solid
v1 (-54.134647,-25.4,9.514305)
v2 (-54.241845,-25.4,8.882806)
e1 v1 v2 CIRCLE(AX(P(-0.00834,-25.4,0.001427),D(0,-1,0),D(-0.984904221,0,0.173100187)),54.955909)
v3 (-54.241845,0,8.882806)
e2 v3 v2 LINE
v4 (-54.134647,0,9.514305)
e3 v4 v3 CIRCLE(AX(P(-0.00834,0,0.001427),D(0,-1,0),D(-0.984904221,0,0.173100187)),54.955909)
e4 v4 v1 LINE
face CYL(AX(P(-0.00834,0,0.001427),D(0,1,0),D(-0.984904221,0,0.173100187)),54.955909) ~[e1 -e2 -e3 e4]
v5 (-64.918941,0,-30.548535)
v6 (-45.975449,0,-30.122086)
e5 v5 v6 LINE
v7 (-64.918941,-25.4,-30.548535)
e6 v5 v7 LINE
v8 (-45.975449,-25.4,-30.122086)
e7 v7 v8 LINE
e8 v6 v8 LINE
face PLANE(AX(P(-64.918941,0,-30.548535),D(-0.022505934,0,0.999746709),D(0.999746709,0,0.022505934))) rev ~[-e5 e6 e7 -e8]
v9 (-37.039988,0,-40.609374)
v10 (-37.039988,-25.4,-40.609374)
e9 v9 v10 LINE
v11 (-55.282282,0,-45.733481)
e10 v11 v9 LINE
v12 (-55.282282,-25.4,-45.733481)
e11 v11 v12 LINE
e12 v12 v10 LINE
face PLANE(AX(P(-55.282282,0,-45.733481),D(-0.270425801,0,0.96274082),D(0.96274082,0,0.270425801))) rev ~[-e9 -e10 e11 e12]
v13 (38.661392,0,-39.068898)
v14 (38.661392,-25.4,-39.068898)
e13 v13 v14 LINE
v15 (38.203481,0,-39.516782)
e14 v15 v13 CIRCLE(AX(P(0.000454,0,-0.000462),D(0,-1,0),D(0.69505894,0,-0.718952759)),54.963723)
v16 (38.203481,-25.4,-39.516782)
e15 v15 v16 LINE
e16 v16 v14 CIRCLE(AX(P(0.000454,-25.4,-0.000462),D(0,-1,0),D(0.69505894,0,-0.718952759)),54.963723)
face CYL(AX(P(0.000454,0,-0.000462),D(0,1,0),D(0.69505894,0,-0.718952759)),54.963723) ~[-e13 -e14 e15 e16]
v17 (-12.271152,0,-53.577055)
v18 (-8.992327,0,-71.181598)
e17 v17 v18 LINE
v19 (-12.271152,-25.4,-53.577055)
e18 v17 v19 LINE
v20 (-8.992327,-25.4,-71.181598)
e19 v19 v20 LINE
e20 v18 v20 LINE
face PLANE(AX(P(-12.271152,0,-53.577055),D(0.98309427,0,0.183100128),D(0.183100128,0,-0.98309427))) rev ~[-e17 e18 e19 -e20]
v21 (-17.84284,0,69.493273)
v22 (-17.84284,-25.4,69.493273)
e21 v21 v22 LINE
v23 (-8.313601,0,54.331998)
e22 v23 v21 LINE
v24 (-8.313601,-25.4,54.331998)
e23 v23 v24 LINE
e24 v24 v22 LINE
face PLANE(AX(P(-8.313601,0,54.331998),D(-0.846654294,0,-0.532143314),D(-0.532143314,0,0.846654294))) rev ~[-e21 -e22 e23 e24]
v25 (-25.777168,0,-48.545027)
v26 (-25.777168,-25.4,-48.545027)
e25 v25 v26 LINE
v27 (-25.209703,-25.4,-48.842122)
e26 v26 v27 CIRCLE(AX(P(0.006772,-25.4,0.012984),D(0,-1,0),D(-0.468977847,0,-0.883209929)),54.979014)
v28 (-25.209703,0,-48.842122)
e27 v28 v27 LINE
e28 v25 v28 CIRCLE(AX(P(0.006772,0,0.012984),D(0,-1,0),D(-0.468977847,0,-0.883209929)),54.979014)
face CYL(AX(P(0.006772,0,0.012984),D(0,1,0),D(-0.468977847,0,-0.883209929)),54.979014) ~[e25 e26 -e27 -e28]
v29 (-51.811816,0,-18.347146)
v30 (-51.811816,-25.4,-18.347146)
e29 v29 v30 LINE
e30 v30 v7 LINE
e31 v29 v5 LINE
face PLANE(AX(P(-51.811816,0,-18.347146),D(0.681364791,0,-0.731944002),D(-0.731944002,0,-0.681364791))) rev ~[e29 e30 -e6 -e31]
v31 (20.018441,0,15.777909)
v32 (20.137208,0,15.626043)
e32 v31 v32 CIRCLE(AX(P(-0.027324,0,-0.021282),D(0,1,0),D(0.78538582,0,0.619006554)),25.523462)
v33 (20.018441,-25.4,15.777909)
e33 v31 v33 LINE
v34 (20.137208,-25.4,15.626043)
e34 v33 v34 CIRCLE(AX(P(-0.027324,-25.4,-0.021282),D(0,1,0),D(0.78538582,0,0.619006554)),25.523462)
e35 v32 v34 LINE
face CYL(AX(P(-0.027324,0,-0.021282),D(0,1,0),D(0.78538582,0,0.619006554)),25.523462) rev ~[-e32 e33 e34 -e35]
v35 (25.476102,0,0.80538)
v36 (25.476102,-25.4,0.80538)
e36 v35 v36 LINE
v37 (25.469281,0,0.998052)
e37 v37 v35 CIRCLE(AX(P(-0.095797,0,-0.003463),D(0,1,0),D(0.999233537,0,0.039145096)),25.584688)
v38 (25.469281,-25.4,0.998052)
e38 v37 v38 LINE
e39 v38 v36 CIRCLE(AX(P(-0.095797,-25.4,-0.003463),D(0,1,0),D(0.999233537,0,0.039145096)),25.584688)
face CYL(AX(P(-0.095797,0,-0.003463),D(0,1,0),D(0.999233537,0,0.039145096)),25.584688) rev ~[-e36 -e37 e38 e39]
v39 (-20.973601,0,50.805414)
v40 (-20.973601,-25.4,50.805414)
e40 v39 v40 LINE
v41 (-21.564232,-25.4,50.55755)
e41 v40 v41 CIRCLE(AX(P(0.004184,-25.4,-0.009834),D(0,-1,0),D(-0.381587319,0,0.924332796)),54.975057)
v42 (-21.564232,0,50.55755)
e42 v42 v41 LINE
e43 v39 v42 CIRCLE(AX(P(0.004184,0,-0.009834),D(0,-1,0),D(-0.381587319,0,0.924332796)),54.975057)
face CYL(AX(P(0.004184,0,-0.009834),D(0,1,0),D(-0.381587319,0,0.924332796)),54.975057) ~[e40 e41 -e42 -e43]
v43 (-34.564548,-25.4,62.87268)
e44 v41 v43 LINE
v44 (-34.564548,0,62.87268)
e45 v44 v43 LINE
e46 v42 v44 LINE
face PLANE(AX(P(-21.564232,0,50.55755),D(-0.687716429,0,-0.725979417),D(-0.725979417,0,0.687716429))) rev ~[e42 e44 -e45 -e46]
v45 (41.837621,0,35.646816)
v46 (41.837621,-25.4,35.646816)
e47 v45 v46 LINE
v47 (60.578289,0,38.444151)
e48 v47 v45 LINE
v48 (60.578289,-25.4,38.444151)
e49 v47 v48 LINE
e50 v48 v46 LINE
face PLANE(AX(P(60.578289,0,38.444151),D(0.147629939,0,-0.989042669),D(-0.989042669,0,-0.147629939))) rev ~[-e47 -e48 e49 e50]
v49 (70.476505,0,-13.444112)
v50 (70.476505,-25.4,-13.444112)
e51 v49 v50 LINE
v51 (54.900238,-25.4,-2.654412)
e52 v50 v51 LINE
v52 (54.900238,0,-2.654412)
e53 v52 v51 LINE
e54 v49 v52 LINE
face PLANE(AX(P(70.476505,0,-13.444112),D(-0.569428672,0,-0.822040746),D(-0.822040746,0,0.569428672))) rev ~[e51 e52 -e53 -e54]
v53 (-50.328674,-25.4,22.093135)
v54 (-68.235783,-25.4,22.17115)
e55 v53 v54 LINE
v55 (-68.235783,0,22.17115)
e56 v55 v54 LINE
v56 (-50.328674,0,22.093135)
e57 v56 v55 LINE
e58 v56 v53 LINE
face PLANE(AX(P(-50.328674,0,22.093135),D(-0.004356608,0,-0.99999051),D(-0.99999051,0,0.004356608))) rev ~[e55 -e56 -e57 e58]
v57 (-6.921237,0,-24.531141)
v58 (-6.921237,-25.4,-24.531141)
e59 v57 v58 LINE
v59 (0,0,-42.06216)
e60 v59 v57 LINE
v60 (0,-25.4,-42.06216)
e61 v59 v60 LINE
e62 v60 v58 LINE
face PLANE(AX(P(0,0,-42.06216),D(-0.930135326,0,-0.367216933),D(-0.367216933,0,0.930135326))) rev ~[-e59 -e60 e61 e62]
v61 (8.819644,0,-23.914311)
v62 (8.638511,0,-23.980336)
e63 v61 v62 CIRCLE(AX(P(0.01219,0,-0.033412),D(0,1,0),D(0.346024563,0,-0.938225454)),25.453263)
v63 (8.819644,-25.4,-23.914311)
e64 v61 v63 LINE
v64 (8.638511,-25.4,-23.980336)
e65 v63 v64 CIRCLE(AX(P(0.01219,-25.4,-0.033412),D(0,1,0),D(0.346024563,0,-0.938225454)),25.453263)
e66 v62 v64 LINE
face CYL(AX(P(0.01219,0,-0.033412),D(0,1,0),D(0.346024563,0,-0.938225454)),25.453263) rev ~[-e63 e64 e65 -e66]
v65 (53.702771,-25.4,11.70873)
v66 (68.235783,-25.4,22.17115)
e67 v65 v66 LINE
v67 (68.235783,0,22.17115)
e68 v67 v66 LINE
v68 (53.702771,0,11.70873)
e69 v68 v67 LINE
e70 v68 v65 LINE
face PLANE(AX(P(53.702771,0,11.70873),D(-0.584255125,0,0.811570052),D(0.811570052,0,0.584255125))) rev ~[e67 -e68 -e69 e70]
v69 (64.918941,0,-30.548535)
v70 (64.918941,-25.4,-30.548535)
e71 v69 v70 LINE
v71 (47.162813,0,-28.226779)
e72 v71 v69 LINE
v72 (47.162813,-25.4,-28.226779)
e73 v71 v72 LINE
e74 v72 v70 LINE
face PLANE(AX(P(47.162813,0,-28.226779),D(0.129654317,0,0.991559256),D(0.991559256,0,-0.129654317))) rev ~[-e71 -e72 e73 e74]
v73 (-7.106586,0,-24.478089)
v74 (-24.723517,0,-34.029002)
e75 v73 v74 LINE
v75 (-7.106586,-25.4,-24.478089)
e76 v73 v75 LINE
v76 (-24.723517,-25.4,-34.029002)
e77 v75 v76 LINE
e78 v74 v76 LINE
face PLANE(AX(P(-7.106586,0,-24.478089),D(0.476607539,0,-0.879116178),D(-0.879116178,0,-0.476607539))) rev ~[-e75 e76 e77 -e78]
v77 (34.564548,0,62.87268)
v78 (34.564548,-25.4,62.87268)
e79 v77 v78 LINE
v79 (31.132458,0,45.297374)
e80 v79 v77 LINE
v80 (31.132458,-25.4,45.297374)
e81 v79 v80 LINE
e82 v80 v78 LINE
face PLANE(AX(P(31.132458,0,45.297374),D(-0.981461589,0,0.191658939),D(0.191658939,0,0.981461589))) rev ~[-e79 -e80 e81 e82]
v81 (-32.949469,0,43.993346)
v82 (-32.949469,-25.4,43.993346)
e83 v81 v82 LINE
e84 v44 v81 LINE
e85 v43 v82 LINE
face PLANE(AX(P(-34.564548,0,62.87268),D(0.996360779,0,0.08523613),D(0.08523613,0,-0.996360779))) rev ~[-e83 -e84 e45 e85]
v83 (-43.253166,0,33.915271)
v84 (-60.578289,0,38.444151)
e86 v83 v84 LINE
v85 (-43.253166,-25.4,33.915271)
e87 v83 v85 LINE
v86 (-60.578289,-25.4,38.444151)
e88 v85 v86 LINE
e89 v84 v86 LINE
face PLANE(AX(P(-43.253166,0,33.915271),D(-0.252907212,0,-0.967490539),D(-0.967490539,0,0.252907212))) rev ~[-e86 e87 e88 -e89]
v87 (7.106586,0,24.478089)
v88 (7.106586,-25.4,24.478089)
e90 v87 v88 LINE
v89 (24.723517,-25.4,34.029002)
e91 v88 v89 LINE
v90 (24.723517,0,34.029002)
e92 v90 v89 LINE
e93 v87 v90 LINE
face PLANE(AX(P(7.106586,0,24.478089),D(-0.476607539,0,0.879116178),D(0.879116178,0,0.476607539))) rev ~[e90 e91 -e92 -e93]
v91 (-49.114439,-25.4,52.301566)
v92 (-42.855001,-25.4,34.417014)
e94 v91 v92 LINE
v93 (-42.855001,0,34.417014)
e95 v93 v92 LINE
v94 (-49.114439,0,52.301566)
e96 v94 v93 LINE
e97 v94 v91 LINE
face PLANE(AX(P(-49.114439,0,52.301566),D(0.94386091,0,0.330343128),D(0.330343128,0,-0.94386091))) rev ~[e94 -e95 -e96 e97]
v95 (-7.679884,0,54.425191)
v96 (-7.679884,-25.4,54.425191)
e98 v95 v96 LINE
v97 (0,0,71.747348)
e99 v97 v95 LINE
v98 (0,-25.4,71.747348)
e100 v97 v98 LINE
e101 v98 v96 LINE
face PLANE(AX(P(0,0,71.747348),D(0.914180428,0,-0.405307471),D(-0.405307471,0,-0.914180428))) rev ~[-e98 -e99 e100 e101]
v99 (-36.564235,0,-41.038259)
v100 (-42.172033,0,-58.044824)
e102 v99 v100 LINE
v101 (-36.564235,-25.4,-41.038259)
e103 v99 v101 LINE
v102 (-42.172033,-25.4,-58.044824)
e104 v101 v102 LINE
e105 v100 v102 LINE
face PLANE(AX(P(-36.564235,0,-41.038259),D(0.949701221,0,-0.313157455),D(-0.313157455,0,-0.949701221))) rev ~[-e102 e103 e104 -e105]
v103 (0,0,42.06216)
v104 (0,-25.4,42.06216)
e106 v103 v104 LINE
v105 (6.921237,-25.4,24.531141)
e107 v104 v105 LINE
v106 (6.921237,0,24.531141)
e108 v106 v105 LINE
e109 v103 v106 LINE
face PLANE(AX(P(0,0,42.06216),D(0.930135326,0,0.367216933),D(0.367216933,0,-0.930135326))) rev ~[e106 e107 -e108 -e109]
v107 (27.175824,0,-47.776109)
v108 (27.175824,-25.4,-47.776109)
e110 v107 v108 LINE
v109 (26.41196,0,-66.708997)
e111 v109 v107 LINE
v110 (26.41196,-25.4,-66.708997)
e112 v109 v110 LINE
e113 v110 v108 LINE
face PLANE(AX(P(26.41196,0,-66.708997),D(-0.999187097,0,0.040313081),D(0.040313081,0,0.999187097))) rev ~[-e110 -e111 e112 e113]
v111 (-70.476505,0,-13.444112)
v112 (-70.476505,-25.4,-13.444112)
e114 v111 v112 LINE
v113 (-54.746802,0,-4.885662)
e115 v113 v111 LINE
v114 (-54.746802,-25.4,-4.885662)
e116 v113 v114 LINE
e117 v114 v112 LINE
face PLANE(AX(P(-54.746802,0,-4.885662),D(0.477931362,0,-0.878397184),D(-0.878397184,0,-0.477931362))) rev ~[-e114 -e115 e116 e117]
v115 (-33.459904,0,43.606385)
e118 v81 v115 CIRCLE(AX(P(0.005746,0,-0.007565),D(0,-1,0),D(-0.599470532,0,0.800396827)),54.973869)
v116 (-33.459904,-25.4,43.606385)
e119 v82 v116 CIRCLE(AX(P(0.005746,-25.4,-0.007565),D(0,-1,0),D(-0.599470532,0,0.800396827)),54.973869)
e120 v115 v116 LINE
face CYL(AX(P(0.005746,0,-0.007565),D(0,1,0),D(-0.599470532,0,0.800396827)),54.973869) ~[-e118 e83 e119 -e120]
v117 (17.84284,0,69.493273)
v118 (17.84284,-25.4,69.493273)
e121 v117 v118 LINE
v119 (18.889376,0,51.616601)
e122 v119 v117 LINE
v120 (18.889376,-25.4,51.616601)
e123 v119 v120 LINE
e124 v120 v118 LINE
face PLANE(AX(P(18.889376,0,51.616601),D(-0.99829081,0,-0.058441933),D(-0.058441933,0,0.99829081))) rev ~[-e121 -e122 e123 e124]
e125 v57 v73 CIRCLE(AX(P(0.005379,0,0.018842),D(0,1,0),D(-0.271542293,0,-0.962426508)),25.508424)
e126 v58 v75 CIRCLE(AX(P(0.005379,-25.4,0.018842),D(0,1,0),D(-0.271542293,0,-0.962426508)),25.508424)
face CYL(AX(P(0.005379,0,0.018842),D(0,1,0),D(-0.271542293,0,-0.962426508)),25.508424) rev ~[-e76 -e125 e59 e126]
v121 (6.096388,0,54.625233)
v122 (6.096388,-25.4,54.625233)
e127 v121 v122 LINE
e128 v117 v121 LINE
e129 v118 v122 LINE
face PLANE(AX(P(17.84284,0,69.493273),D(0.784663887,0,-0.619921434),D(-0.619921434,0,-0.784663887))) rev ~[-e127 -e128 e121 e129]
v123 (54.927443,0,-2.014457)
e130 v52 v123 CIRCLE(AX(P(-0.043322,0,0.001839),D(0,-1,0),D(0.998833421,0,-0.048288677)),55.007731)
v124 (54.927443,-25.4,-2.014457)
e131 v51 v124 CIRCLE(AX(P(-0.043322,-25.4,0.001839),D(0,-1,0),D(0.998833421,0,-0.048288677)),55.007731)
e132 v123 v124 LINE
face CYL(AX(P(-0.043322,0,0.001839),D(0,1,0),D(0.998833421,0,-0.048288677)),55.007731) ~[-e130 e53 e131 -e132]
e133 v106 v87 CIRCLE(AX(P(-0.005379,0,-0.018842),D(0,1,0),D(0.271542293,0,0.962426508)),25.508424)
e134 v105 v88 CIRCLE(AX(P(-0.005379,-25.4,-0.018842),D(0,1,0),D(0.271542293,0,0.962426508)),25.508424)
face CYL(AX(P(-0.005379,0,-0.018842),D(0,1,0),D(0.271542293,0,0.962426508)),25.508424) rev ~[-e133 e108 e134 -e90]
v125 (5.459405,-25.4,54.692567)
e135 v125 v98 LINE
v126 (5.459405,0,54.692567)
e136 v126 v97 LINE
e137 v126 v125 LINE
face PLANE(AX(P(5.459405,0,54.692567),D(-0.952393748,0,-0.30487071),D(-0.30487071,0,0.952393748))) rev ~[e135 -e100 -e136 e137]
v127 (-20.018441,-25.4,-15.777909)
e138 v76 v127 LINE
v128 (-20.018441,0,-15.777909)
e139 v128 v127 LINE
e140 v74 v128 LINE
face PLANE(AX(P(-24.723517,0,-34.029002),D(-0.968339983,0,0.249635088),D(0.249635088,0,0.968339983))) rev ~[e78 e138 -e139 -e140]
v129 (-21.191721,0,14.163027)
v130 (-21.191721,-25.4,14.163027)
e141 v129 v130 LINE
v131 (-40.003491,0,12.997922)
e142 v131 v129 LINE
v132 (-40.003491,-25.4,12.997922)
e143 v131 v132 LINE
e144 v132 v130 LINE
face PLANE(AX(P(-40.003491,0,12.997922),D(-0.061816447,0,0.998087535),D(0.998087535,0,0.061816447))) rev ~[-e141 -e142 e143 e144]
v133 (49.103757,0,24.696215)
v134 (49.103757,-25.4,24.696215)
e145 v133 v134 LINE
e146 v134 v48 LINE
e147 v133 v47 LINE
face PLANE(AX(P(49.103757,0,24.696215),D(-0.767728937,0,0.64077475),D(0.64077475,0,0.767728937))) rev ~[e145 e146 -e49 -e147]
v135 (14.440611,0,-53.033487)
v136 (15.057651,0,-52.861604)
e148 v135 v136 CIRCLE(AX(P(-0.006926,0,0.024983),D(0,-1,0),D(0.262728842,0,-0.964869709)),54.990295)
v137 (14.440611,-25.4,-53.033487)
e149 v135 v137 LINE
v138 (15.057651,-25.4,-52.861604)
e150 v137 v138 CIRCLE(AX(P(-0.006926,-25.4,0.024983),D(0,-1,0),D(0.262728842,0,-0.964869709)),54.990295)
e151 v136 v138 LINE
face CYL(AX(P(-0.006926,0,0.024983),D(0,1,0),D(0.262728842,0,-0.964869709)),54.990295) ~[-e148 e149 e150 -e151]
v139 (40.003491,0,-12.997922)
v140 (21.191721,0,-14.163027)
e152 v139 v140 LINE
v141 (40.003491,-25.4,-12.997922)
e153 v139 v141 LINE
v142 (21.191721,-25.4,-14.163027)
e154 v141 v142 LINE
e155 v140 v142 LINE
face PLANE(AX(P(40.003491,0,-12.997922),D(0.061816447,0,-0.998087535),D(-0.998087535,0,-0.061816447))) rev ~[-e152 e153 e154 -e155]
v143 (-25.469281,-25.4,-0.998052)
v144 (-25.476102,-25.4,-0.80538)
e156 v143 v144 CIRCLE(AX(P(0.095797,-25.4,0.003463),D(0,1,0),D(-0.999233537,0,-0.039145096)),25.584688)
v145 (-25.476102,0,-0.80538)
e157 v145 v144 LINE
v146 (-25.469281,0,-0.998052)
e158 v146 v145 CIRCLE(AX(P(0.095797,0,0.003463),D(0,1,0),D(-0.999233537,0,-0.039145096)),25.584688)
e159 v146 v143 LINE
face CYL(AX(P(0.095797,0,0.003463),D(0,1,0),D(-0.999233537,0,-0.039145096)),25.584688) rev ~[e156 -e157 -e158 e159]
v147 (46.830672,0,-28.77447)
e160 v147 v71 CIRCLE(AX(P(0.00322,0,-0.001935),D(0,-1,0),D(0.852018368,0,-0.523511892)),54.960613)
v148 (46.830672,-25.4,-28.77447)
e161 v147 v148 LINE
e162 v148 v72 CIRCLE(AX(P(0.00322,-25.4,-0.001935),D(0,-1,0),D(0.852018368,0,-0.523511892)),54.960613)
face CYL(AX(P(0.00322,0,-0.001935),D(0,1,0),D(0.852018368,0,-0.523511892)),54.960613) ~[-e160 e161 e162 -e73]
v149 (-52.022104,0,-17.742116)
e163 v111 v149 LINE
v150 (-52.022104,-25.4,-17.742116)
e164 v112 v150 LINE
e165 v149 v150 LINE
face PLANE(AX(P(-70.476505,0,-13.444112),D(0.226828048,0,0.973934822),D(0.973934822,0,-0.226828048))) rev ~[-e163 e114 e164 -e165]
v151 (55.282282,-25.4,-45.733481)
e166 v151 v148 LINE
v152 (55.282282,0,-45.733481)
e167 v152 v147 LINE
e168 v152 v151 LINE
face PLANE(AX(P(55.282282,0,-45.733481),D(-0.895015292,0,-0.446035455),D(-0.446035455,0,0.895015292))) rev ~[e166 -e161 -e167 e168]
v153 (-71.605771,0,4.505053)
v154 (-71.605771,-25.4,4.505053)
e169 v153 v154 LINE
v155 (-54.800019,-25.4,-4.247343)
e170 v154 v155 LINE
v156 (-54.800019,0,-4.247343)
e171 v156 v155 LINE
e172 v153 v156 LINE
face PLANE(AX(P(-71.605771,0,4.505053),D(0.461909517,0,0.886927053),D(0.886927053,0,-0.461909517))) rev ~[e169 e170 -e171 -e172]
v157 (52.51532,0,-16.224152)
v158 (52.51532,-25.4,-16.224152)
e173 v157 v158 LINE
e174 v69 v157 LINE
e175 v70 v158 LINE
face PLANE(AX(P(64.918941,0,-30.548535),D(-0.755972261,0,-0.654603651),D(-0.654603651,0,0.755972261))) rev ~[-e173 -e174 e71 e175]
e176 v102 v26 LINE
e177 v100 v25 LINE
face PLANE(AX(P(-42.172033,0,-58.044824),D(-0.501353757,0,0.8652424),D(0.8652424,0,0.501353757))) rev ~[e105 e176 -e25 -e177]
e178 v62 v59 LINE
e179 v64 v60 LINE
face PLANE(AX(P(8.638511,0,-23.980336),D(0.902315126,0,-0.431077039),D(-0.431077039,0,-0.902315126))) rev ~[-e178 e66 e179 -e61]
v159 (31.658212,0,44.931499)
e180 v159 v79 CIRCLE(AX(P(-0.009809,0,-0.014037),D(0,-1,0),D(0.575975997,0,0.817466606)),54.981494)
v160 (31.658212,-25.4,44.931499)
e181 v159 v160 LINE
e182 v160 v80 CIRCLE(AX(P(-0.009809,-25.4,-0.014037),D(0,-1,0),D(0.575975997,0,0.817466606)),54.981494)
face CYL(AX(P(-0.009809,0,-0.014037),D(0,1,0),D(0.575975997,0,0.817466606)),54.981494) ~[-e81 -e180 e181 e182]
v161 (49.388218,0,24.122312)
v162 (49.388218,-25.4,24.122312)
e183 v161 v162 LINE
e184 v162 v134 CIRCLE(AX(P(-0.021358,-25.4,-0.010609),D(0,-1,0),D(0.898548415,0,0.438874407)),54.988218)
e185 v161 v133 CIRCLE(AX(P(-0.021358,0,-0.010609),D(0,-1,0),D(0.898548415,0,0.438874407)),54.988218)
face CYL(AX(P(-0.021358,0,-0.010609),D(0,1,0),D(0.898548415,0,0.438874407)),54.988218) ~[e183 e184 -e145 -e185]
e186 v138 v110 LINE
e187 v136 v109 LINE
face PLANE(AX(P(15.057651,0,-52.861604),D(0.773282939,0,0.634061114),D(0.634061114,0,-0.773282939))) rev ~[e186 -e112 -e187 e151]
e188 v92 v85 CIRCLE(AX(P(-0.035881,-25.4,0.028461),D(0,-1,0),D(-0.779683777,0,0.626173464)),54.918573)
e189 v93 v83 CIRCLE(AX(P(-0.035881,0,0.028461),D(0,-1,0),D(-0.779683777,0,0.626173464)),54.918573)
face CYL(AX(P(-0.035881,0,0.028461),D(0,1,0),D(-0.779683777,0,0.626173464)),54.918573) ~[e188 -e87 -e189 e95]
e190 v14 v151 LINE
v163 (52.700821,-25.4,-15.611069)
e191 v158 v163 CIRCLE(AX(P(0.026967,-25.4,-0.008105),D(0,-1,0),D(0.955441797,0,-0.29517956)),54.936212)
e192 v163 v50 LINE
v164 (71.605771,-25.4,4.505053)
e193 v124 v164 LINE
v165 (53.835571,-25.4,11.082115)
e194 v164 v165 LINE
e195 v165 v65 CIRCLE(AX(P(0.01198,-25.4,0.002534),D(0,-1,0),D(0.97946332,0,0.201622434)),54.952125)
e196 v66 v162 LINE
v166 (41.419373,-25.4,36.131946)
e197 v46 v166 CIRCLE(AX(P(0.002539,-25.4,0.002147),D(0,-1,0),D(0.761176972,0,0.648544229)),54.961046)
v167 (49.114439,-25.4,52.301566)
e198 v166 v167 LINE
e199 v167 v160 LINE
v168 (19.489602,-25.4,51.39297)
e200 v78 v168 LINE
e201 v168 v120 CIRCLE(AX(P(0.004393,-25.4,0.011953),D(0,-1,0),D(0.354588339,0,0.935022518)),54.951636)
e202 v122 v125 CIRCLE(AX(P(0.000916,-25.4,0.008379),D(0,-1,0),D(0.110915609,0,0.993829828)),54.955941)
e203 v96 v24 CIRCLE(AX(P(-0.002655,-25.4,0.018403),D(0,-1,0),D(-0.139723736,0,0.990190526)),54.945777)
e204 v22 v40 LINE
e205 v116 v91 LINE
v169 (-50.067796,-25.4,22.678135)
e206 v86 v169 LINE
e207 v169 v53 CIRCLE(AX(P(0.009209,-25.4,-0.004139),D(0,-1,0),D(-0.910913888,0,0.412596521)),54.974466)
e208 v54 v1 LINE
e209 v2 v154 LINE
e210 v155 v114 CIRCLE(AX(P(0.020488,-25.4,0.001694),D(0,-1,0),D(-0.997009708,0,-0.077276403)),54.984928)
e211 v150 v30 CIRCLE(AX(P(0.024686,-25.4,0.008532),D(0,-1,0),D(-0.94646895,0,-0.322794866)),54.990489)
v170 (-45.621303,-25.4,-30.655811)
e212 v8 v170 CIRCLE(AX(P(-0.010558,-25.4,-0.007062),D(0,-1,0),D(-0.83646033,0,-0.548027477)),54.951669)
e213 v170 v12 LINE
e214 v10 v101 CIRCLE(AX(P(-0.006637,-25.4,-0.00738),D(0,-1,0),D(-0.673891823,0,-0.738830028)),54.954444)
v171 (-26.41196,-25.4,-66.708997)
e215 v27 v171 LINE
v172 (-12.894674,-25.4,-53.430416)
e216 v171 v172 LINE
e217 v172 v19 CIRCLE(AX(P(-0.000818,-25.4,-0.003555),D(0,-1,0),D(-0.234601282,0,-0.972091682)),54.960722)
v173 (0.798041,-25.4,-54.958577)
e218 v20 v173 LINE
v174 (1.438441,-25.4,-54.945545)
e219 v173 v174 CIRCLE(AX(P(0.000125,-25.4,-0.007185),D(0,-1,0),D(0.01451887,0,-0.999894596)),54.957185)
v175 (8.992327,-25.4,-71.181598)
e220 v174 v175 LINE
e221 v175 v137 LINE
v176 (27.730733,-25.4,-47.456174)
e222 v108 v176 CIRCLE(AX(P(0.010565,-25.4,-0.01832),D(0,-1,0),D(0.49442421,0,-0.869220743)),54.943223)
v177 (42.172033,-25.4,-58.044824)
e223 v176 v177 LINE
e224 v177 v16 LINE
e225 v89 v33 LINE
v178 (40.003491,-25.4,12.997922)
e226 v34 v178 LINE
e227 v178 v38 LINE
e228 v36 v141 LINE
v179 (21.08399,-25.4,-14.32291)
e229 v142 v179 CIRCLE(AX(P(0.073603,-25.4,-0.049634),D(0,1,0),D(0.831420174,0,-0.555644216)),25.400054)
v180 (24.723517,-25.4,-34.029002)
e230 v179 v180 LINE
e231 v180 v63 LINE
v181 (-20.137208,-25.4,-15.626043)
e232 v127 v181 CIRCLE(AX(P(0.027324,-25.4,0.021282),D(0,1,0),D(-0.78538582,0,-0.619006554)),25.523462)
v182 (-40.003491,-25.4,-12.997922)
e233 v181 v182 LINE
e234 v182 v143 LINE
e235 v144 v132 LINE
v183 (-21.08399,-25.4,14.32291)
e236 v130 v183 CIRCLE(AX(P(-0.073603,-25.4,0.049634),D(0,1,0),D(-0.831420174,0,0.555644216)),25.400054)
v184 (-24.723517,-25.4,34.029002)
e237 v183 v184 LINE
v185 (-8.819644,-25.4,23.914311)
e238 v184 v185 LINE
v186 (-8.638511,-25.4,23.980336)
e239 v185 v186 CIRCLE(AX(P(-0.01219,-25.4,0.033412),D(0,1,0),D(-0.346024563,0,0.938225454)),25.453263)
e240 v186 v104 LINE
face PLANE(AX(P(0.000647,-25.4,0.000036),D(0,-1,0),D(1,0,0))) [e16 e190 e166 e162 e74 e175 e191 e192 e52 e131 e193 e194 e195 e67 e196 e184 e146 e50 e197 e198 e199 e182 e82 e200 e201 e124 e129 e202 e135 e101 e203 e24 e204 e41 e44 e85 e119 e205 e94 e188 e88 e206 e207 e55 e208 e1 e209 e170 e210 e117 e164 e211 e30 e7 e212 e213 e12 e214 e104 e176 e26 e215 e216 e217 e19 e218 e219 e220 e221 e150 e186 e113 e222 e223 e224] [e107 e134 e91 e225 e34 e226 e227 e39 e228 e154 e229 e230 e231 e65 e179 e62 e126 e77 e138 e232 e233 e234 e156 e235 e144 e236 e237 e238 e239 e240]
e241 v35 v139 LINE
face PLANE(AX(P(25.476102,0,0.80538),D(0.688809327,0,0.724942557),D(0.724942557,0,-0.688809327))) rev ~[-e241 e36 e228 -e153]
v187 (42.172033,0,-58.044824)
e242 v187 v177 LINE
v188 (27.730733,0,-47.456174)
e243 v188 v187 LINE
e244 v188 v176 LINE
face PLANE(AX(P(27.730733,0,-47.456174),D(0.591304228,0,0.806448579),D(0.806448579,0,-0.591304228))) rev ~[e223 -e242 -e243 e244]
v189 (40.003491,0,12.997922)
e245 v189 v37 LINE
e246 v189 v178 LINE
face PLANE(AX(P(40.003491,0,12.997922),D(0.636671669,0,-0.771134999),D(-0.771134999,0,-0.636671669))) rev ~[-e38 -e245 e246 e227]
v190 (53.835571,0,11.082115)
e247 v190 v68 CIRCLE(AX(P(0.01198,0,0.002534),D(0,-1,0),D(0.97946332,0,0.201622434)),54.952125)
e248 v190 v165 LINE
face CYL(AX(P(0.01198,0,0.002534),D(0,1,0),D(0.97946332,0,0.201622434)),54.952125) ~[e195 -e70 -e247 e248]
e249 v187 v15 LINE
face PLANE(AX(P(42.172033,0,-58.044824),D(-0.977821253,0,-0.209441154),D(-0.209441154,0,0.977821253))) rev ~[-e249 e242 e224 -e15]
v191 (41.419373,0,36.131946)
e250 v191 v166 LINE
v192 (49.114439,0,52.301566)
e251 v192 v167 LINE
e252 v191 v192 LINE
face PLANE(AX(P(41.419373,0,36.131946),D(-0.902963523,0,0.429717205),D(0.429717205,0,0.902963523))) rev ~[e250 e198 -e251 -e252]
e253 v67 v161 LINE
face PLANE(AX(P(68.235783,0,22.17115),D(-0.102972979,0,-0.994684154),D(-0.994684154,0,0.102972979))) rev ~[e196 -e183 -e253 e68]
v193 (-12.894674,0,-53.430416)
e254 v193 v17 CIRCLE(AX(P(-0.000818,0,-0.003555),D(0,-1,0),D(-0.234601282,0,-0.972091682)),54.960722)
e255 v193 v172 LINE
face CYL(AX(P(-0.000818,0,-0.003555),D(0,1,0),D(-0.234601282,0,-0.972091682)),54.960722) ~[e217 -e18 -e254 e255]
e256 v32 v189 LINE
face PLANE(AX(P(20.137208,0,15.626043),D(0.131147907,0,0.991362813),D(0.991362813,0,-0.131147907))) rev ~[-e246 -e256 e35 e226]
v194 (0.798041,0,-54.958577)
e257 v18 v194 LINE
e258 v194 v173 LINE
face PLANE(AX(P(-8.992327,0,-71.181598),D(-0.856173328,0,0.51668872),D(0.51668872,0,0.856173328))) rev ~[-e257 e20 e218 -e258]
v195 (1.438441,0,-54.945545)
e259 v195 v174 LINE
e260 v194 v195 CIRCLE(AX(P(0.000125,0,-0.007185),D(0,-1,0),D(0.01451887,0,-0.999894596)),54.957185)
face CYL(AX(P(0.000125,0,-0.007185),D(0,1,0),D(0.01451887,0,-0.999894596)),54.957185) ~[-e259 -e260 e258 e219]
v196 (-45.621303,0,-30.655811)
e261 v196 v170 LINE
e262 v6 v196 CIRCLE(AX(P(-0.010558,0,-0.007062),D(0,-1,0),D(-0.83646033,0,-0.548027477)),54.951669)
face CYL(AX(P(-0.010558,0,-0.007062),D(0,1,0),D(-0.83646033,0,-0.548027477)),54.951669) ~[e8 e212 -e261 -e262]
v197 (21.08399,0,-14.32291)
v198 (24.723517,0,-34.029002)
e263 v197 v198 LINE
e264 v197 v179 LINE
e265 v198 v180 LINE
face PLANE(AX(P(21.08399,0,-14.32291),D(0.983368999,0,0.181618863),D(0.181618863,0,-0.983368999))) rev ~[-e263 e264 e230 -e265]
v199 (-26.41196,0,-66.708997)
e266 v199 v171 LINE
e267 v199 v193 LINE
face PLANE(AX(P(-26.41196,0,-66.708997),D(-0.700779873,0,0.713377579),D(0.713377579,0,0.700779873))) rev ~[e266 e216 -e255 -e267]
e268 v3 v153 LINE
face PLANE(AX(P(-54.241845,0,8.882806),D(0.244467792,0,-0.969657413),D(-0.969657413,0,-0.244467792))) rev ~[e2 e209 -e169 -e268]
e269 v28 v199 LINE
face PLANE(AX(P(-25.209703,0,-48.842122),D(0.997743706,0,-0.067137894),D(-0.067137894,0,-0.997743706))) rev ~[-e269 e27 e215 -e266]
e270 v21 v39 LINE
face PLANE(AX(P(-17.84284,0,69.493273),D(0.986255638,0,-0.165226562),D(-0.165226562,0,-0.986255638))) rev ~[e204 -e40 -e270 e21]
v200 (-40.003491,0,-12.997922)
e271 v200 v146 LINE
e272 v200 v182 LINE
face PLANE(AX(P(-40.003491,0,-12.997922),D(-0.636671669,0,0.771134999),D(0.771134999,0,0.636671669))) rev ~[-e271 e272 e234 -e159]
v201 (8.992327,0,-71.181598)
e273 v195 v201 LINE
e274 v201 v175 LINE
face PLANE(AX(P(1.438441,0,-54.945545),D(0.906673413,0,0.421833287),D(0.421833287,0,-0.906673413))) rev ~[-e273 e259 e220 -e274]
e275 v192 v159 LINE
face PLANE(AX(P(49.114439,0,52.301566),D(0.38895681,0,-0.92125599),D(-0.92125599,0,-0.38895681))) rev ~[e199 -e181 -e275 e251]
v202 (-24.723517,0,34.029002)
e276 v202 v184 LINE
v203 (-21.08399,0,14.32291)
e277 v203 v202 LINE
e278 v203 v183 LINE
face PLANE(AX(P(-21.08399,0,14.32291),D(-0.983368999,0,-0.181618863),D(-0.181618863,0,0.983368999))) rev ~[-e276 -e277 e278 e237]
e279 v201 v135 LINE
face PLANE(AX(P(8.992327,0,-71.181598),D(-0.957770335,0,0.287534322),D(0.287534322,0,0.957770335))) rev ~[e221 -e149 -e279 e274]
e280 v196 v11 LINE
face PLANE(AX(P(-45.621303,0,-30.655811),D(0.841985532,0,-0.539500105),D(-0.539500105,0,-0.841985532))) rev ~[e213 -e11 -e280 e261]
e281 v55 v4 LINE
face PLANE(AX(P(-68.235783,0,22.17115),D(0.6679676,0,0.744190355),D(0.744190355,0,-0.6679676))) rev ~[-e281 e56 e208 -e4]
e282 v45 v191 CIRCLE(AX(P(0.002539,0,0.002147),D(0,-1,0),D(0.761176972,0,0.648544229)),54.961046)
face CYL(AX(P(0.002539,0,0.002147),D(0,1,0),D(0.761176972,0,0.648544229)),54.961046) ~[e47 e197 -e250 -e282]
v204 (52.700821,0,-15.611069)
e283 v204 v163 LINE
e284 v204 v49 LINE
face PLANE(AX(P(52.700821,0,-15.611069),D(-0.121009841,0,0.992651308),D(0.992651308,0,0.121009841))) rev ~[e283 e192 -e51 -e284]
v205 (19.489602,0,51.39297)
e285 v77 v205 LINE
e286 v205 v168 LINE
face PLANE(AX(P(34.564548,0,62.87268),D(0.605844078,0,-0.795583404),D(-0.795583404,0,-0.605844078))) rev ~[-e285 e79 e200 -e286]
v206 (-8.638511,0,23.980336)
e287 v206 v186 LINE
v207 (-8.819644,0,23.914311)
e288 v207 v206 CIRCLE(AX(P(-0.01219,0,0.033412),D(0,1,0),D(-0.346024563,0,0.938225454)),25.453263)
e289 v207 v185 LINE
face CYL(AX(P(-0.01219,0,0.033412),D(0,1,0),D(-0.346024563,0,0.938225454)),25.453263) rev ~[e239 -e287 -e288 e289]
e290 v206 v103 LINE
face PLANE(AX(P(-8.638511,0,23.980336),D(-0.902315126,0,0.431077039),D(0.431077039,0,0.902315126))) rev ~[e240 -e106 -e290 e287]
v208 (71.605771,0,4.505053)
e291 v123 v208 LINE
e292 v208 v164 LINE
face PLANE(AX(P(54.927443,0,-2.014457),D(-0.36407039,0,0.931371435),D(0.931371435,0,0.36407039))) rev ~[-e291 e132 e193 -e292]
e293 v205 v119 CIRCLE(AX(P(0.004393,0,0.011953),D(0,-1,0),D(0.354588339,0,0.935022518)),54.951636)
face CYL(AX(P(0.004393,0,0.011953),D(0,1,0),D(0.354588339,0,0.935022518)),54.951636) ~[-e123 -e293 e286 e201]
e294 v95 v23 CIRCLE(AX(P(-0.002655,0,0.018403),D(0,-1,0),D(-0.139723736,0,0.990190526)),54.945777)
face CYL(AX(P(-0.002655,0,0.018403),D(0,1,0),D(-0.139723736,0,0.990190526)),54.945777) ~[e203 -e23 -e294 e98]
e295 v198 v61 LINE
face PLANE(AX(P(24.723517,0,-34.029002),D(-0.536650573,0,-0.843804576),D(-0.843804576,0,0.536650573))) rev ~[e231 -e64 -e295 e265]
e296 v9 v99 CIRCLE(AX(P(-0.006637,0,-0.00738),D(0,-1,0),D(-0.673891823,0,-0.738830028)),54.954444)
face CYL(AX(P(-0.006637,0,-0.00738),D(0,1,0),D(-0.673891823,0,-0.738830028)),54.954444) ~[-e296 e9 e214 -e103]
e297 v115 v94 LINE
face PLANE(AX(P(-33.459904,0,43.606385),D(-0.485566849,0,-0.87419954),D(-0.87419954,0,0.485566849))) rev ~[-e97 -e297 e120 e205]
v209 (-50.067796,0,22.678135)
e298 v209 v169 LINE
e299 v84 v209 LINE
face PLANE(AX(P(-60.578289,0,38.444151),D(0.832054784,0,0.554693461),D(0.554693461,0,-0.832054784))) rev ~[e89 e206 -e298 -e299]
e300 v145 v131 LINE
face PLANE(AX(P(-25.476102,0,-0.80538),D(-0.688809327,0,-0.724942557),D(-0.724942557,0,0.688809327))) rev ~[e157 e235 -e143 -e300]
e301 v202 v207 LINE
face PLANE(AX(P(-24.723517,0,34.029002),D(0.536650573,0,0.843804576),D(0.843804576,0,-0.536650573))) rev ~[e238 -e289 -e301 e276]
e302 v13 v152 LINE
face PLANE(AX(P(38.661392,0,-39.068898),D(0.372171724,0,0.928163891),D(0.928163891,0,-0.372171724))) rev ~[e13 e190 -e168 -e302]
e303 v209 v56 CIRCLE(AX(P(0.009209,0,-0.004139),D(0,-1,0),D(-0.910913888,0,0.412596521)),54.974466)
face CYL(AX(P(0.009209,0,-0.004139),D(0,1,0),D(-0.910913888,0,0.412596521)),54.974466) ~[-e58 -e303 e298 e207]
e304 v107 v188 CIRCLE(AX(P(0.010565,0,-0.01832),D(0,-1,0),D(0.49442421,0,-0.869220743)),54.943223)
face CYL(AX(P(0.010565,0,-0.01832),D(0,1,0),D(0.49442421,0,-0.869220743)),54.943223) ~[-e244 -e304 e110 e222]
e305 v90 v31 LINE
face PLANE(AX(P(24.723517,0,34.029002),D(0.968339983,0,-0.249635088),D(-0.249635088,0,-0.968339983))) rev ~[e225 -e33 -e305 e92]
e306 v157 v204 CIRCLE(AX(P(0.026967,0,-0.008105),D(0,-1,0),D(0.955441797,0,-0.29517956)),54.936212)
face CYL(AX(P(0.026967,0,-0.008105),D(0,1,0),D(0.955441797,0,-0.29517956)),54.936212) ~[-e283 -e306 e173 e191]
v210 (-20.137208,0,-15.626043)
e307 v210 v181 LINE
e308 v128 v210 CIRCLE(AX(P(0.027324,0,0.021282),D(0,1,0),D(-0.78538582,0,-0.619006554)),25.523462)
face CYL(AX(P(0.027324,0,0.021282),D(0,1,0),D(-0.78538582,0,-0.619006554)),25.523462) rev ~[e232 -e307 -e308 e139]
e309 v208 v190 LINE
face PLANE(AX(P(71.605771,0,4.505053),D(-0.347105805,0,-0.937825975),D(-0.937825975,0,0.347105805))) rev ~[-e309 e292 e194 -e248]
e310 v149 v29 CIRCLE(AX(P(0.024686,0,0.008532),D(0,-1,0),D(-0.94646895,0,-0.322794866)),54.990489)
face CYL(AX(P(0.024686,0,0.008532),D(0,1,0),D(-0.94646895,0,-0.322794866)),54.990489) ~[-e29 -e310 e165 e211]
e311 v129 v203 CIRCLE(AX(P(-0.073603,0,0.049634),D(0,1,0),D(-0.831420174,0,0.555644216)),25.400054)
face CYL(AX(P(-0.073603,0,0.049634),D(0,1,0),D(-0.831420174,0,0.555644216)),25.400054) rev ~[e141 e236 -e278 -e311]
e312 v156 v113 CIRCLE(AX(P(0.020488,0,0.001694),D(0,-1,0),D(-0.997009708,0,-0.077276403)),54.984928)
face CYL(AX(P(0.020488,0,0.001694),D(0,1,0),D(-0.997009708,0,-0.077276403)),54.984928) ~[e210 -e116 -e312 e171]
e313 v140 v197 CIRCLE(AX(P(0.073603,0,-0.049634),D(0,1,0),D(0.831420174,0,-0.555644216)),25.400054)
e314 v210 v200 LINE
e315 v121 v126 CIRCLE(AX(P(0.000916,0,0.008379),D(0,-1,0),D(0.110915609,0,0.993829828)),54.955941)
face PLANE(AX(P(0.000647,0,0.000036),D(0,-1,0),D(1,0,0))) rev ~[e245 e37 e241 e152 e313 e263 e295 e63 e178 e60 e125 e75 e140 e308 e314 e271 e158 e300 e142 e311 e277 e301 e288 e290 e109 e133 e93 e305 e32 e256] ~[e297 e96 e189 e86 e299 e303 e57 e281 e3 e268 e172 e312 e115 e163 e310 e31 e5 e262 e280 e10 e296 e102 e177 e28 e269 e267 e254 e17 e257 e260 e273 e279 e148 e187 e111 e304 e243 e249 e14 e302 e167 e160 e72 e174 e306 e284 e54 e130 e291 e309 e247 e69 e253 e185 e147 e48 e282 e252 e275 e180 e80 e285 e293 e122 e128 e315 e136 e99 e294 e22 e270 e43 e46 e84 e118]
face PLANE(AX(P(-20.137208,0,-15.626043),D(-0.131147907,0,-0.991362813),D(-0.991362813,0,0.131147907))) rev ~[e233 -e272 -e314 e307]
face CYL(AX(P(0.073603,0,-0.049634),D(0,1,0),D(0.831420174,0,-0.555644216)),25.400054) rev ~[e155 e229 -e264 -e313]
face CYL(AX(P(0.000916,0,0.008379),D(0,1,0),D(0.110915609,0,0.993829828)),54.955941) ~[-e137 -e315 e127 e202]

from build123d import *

# Parameters (mm, degrees)
F1_DEPTH = 25.4


with BuildPart() as f1:
    # F0 (on Front) → F1 (new body)
    with BuildSketch(Plane.XZ):
        with BuildLine():
            ThreePointArc((54.927443, -2.014457), (54.955138, -1.007398), (54.96437, 0))
            ThreePointArc((54.96437, 0), (54.681442, 5.569728), (53.835571, 11.082115))
            ThreePointArc((53.835571, 11.082115), (53.770084, 11.395616), (53.702771, 11.70873))
            ThreePointArc((53.702771, 11.70873), (51.917841, 18.044937), (49.388218, 24.122312))
            ThreePointArc((49.388218, 24.122312), (49.246823, 24.409678), (49.103757, 24.696215))
            ThreePointArc((49.103757, 24.696215), (45.799154, 30.389464), (41.837621, 35.646816))
            ThreePointArc((41.837621, 35.646816), (41.629204, 35.88999), (41.419373, 36.131946))
            ThreePointArc((41.419373, 36.131946), (36.802736, 40.82451), (31.658212, 44.931499))
            ThreePointArc((31.658212, 44.931499), (31.395868, 45.115202), (31.132458, 45.297374))
            ThreePointArc((31.132458, 45.297374), (25.493868, 48.694401), (19.489602, 51.39297))
            ThreePointArc((19.489602, 51.39297), (19.189815, 51.50566), (18.889376, 51.616601))
            ThreePointArc((18.889376, 51.616601), (12.583126, 53.504644), (6.096388, 54.625233))
            ThreePointArc((6.096388, 54.625233), (5.777995, 54.659828), (5.459405, 54.692567))
            ThreePointArc((5.459405, 54.692567), (-1.11826, 54.952994), (-7.679884, 54.425191))
            ThreePointArc((-7.679884, 54.425191), (-7.996878, 54.379518), (-8.313601, 54.331998))
            ThreePointArc((-8.313601, 54.331998), (-14.749381, 52.948444), (-20.973601, 50.805414))
            ThreePointArc((-20.973601, 50.805414), (-21.269278, 50.682342), (-21.564232, 50.55755))
            ThreePointArc((-21.564232, 50.55755), (-27.453745, 47.61695), (-32.949469, 43.993346))
            ThreePointArc((-32.949469, 43.993346), (-33.20525, 43.800609), (-33.459904, 43.606385))
            ThreePointArc((-33.459904, 43.606385), (-38.433089, 39.293507), (-42.855001, 34.417014))
            ThreePointArc((-42.855001, 34.417014), (-43.054815, 34.166723), (-43.253166, 33.915271))
            ThreePointArc((-43.253166, 33.915271), (-46.99754, 28.501109), (-50.067796, 22.678135))
            ThreePointArc((-50.067796, 22.678135), (-50.199087, 22.386015), (-50.328674, 22.093135))
            ThreePointArc((-50.328674, 22.093135), (-52.608964, 15.917881), (-54.134647, 9.514305))
            ThreePointArc((-54.134647, 9.514305), (-54.189166, 9.198712), (-54.241845, 8.882806))
            ThreePointArc((-54.241845, 8.882806), (-54.914772, 2.334474), (-54.800019, -4.247343))
            ThreePointArc((-54.800019, -4.247343), (-54.77434, -4.56658), (-54.746802, -4.885662))
            ThreePointArc((-54.746802, -4.885662), (-53.770084, -11.395616), (-52.022104, -17.742116))
            ThreePointArc((-52.022104, -17.742116), (-51.917841, -18.044937), (-51.811816, -18.347146))
            ThreePointArc((-51.811816, -18.347146), (-49.246823, -24.409678), (-45.975449, -30.122086))
            ThreePointArc((-45.975449, -30.122086), (-45.799154, -30.389464), (-45.621303, -30.655811))
            ThreePointArc((-45.621303, -30.655811), (-41.629204, -35.88999), (-37.039988, -40.609374))
            ThreePointArc((-37.039988, -40.609374), (-36.802736, -40.82451), (-36.564235, -41.038259))
            ThreePointArc((-36.564235, -41.038259), (-31.395868, -45.115202), (-25.777168, -48.545027))
            ThreePointArc((-25.777168, -48.545027), (-25.493868, -48.694401), (-25.209703, -48.842122))
            ThreePointArc((-25.209703, -48.842122), (-19.189815, -51.50566), (-12.894674, -53.430416))
            ThreePointArc((-12.894674, -53.430416), (-12.583126, -53.504644), (-12.271152, -53.577055))
            ThreePointArc((-12.271152, -53.577055), (-5.777995, -54.659828), (0.798041, -54.958577))
            ThreePointArc((0.798041, -54.958577), (1.11826, -54.952994), (1.438441, -54.945545))
            ThreePointArc((1.438441, -54.945545), (7.996878, -54.379518), (14.440611, -53.033487))
            ThreePointArc((14.440611, -53.033487), (14.749381, -52.948444), (15.057651, -52.861604))
            ThreePointArc((15.057651, -52.861604), (21.269278, -50.682342), (27.175824, -47.776109))
            ThreePointArc((27.175824, -47.776109), (27.453745, -47.61695), (27.730733, -47.456174))
            ThreePointArc((27.730733, -47.456174), (33.20525, -43.800609), (38.203481, -39.516782))
            ThreePointArc((38.203481, -39.516782), (38.433089, -39.293507), (38.661392, -39.068898))
            ThreePointArc((38.661392, -39.068898), (43.054815, -34.166723), (46.830672, -28.77447))
            ThreePointArc((46.830672, -28.77447), (46.99754, -28.501109), (47.162813, -28.226779))
            ThreePointArc((47.162813, -28.226779), (50.199087, -22.386015), (52.51532, -16.224152))
            ThreePointArc((52.51532, -16.224152), (52.608964, -15.917881), (52.700821, -15.611069))
            ThreePointArc((52.700821, -15.611069), (54.189166, -9.198712), (54.900238, -2.654412))
            ThreePointArc((54.900238, -2.654412), (54.914772, -2.334474), (54.927443, -2.014457))
        make_face()
        with BuildLine():
            ThreePointArc((25.469281, 0.998052), (25.472873, 0.901722), (25.476102, 0.80538))
            Line((25.476102, 0.80538), (40.003491, -12.997922))
            Line((40.003491, -12.997922), (21.191721, -14.163027))
            ThreePointArc((21.191721, -14.163027), (21.138007, -14.243071), (21.08399, -14.32291))
            Line((21.08399, -14.32291), (24.723517, -34.029002))
            Line((24.723517, -34.029002), (8.819644, -23.914311))
            ThreePointArc((8.819644, -23.914311), (8.72914, -23.947495), (8.638511, -23.980336))
            Line((8.638511, -23.980336), (0, -42.06216))
            Line((0, -42.06216), (-6.921237, -24.531141))
            ThreePointArc((-6.921237, -24.531141), (-7.013962, -24.50479), (-7.106586, -24.478089))
            Line((-7.106586, -24.478089), (-24.723517, -34.029002))
            Line((-24.723517, -34.029002), (-20.018441, -15.777909))
            ThreePointArc((-20.018441, -15.777909), (-20.077968, -15.702088), (-20.137208, -15.626043))
            Line((-20.137208, -15.626043), (-40.003491, -12.997922))
            Line((-40.003491, -12.997922), (-25.469281, -0.998052))
            ThreePointArc((-25.469281, -0.998052), (-25.472873, -0.901722), (-25.476102, -0.80538))
            Line((-25.476102, -0.80538), (-40.003491, 12.997922))
            Line((-40.003491, 12.997922), (-21.191721, 14.163027))
            ThreePointArc((-21.191721, 14.163027), (-21.138007, 14.243071), (-21.08399, 14.32291))
            Line((-21.08399, 14.32291), (-24.723517, 34.029002))
            Line((-24.723517, 34.029002), (-8.819644, 23.914311))
            ThreePointArc((-8.819644, 23.914311), (-8.72914, 23.947495), (-8.638511, 23.980336))
            Line((-8.638511, 23.980336), (0, 42.06216))
            Line((0, 42.06216), (6.921237, 24.531141))
            ThreePointArc((6.921237, 24.531141), (7.013962, 24.50479), (7.106586, 24.478089))
            Line((7.106586, 24.478089), (24.723517, 34.029002))
            Line((24.723517, 34.029002), (20.018441, 15.777909))
            ThreePointArc((20.018441, 15.777909), (20.077968, 15.702088), (20.137208, 15.626043))
            Line((20.137208, 15.626043), (40.003491, 12.997922))
            Line((40.003491, 12.997922), (25.469281, 0.998052))
        make_face(mode=Mode.SUBTRACT)
        with BuildLine():
            ThreePointArc((-42.855001, 34.417014), (-38.433089, 39.293507), (-33.459904, 43.606385))
            Line((-33.459904, 43.606385), (-49.114439, 52.301566))
            Line((-49.114439, 52.301566), (-42.855001, 34.417014))
        make_face()
        with BuildLine():
            ThreePointArc((-50.067796, 22.678135), (-46.99754, 28.501109), (-43.253166, 33.915271))
            Line((-43.253166, 33.915271), (-60.578289, 38.444151))
            Line((-60.578289, 38.444151), (-50.067796, 22.678135))
        make_face()
        with BuildLine():
            ThreePointArc((-54.134647, 9.514305), (-52.608964, 15.917881), (-50.328674, 22.093135))
            Line((-50.328674, 22.093135), (-68.235783, 22.17115))
            Line((-68.235783, 22.17115), (-54.134647, 9.514305))
        make_face()
        with BuildLine():
            ThreePointArc((-54.800019, -4.247343), (-54.914772, 2.334474), (-54.241845, 8.882806))
            Line((-54.241845, 8.882806), (-71.605771, 4.505053))
            Line((-71.605771, 4.505053), (-54.800019, -4.247343))
        make_face()
        with BuildLine():
            Line((-55.282282, -45.733481), (-37.039988, -40.609374))
            ThreePointArc((-37.039988, -40.609374), (-41.629204, -35.88999), (-45.621303, -30.655811))
            Line((-45.621303, -30.655811), (-55.282282, -45.733481))
        make_face()
        with BuildLine():
            Line((-42.172033, -58.044824), (-25.777168, -48.545027))
            ThreePointArc((-25.777168, -48.545027), (-31.395868, -45.115202), (-36.564235, -41.038259))
            Line((-36.564235, -41.038259), (-42.172033, -58.044824))
        make_face()
        with BuildLine():
            Line((-26.41196, -66.708997), (-12.894674, -53.430416))
            ThreePointArc((-12.894674, -53.430416), (-19.189815, -51.50566), (-25.209703, -48.842122))
            Line((-25.209703, -48.842122), (-26.41196, -66.708997))
        make_face()
        with BuildLine():
            Line((-8.992327, -71.181598), (0.798041, -54.958577))
            ThreePointArc((0.798041, -54.958577), (-5.777995, -54.659828), (-12.271152, -53.577055))
            Line((-12.271152, -53.577055), (-8.992327, -71.181598))
        make_face()
        with BuildLine():
            Line((8.992327, -71.181598), (14.440611, -53.033487))
            ThreePointArc((14.440611, -53.033487), (7.996878, -54.379518), (1.438441, -54.945545))
            Line((1.438441, -54.945545), (8.992327, -71.181598))
        make_face()
        with BuildLine():
            Line((26.41196, -66.708997), (27.175824, -47.776109))
            ThreePointArc((27.175824, -47.776109), (21.269278, -50.682342), (15.057651, -52.861604))
            Line((15.057651, -52.861604), (26.41196, -66.708997))
        make_face()
        with BuildLine():
            Line((42.172033, -58.044824), (38.203481, -39.516782))
            ThreePointArc((38.203481, -39.516782), (33.20525, -43.800609), (27.730733, -47.456174))
            Line((27.730733, -47.456174), (42.172033, -58.044824))
        make_face()
        with BuildLine():
            Line((55.282282, -45.733481), (46.830672, -28.77447))
            ThreePointArc((46.830672, -28.77447), (43.054815, -34.166723), (38.661392, -39.068898))
            Line((38.661392, -39.068898), (55.282282, -45.733481))
        make_face()
        with BuildLine():
            Line((64.918941, -30.548535), (52.51532, -16.224152))
            ThreePointArc((52.51532, -16.224152), (50.199087, -22.386015), (47.162813, -28.226779))
            Line((47.162813, -28.226779), (64.918941, -30.548535))
        make_face()
        with BuildLine():
            Line((70.476505, -13.444112), (54.900238, -2.654412))
            ThreePointArc((54.900238, -2.654412), (54.189166, -9.198712), (52.700821, -15.611069))
            Line((52.700821, -15.611069), (70.476505, -13.444112))
        make_face()
        with BuildLine():
            ThreePointArc((53.835571, 11.082115), (54.681442, 5.569728), (54.96437, 0))
            ThreePointArc((54.96437, 0), (54.955138, -1.007398), (54.927443, -2.014457))
            Line((54.927443, -2.014457), (71.605771, 4.505053))
            Line((71.605771, 4.505053), (53.835571, 11.082115))
        make_face()
        with BuildLine():
            ThreePointArc((49.388218, 24.122312), (51.917841, 18.044937), (53.702771, 11.70873))
            Line((53.702771, 11.70873), (68.235783, 22.17115))
            Line((68.235783, 22.17115), (49.388218, 24.122312))
        make_face()
        with BuildLine():
            ThreePointArc((41.837621, 35.646816), (45.799154, 30.389464), (49.103757, 24.696215))
            Line((49.103757, 24.696215), (60.578289, 38.444151))
            Line((60.578289, 38.444151), (41.837621, 35.646816))
        make_face()
        with BuildLine():
            ThreePointArc((31.658212, 44.931499), (36.802736, 40.82451), (41.419373, 36.131946))
            Line((41.419373, 36.131946), (49.114439, 52.301566))
            Line((49.114439, 52.301566), (31.658212, 44.931499))
        make_face()
        with BuildLine():
            ThreePointArc((19.489602, 51.39297), (25.493868, 48.694401), (31.132458, 45.297374))
            Line((31.132458, 45.297374), (34.564548, 62.87268))
            Line((34.564548, 62.87268), (19.489602, 51.39297))
        make_face()
        with BuildLine():
            ThreePointArc((6.096388, 54.625233), (12.583126, 53.504644), (18.889376, 51.616601))
            Line((18.889376, 51.616601), (17.84284, 69.493273))
            Line((17.84284, 69.493273), (6.096388, 54.625233))
        make_face()
        with BuildLine():
            ThreePointArc((-7.679884, 54.425191), (-1.11826, 54.952994), (5.459405, 54.692567))
            Line((5.459405, 54.692567), (0, 71.747348))
            Line((0, 71.747348), (-7.679884, 54.425191))
        make_face()
        with BuildLine():
            ThreePointArc((-20.973601, 50.805414), (-14.749381, 52.948444), (-8.313601, 54.331998))
            Line((-8.313601, 54.331998), (-17.84284, 69.493273))
            Line((-17.84284, 69.493273), (-20.973601, 50.805414))
        make_face()
        with BuildLine():
            Line((-70.476505, -13.444112), (-52.022104, -17.742116))
            ThreePointArc((-52.022104, -17.742116), (-53.770084, -11.395616), (-54.746802, -4.885662))
            Line((-54.746802, -4.885662), (-70.476505, -13.444112))
        make_face()
        with BuildLine():
            Line((-64.918941, -30.548535), (-45.975449, -30.122086))
            ThreePointArc((-45.975449, -30.122086), (-49.246823, -24.409678), (-51.811816, -18.347146))
            Line((-51.811816, -18.347146), (-64.918941, -30.548535))
        make_face()
        with BuildLine():
            ThreePointArc((-32.949469, 43.993346), (-27.453745, 47.61695), (-21.564232, 50.55755))
            Line((-21.564232, 50.55755), (-34.564548, 62.87268))
            Line((-34.564548, 62.87268), (-32.949469, 43.993346))
        make_face()
    extrude(amount=F1_DEPTH)


solid = f1.part
